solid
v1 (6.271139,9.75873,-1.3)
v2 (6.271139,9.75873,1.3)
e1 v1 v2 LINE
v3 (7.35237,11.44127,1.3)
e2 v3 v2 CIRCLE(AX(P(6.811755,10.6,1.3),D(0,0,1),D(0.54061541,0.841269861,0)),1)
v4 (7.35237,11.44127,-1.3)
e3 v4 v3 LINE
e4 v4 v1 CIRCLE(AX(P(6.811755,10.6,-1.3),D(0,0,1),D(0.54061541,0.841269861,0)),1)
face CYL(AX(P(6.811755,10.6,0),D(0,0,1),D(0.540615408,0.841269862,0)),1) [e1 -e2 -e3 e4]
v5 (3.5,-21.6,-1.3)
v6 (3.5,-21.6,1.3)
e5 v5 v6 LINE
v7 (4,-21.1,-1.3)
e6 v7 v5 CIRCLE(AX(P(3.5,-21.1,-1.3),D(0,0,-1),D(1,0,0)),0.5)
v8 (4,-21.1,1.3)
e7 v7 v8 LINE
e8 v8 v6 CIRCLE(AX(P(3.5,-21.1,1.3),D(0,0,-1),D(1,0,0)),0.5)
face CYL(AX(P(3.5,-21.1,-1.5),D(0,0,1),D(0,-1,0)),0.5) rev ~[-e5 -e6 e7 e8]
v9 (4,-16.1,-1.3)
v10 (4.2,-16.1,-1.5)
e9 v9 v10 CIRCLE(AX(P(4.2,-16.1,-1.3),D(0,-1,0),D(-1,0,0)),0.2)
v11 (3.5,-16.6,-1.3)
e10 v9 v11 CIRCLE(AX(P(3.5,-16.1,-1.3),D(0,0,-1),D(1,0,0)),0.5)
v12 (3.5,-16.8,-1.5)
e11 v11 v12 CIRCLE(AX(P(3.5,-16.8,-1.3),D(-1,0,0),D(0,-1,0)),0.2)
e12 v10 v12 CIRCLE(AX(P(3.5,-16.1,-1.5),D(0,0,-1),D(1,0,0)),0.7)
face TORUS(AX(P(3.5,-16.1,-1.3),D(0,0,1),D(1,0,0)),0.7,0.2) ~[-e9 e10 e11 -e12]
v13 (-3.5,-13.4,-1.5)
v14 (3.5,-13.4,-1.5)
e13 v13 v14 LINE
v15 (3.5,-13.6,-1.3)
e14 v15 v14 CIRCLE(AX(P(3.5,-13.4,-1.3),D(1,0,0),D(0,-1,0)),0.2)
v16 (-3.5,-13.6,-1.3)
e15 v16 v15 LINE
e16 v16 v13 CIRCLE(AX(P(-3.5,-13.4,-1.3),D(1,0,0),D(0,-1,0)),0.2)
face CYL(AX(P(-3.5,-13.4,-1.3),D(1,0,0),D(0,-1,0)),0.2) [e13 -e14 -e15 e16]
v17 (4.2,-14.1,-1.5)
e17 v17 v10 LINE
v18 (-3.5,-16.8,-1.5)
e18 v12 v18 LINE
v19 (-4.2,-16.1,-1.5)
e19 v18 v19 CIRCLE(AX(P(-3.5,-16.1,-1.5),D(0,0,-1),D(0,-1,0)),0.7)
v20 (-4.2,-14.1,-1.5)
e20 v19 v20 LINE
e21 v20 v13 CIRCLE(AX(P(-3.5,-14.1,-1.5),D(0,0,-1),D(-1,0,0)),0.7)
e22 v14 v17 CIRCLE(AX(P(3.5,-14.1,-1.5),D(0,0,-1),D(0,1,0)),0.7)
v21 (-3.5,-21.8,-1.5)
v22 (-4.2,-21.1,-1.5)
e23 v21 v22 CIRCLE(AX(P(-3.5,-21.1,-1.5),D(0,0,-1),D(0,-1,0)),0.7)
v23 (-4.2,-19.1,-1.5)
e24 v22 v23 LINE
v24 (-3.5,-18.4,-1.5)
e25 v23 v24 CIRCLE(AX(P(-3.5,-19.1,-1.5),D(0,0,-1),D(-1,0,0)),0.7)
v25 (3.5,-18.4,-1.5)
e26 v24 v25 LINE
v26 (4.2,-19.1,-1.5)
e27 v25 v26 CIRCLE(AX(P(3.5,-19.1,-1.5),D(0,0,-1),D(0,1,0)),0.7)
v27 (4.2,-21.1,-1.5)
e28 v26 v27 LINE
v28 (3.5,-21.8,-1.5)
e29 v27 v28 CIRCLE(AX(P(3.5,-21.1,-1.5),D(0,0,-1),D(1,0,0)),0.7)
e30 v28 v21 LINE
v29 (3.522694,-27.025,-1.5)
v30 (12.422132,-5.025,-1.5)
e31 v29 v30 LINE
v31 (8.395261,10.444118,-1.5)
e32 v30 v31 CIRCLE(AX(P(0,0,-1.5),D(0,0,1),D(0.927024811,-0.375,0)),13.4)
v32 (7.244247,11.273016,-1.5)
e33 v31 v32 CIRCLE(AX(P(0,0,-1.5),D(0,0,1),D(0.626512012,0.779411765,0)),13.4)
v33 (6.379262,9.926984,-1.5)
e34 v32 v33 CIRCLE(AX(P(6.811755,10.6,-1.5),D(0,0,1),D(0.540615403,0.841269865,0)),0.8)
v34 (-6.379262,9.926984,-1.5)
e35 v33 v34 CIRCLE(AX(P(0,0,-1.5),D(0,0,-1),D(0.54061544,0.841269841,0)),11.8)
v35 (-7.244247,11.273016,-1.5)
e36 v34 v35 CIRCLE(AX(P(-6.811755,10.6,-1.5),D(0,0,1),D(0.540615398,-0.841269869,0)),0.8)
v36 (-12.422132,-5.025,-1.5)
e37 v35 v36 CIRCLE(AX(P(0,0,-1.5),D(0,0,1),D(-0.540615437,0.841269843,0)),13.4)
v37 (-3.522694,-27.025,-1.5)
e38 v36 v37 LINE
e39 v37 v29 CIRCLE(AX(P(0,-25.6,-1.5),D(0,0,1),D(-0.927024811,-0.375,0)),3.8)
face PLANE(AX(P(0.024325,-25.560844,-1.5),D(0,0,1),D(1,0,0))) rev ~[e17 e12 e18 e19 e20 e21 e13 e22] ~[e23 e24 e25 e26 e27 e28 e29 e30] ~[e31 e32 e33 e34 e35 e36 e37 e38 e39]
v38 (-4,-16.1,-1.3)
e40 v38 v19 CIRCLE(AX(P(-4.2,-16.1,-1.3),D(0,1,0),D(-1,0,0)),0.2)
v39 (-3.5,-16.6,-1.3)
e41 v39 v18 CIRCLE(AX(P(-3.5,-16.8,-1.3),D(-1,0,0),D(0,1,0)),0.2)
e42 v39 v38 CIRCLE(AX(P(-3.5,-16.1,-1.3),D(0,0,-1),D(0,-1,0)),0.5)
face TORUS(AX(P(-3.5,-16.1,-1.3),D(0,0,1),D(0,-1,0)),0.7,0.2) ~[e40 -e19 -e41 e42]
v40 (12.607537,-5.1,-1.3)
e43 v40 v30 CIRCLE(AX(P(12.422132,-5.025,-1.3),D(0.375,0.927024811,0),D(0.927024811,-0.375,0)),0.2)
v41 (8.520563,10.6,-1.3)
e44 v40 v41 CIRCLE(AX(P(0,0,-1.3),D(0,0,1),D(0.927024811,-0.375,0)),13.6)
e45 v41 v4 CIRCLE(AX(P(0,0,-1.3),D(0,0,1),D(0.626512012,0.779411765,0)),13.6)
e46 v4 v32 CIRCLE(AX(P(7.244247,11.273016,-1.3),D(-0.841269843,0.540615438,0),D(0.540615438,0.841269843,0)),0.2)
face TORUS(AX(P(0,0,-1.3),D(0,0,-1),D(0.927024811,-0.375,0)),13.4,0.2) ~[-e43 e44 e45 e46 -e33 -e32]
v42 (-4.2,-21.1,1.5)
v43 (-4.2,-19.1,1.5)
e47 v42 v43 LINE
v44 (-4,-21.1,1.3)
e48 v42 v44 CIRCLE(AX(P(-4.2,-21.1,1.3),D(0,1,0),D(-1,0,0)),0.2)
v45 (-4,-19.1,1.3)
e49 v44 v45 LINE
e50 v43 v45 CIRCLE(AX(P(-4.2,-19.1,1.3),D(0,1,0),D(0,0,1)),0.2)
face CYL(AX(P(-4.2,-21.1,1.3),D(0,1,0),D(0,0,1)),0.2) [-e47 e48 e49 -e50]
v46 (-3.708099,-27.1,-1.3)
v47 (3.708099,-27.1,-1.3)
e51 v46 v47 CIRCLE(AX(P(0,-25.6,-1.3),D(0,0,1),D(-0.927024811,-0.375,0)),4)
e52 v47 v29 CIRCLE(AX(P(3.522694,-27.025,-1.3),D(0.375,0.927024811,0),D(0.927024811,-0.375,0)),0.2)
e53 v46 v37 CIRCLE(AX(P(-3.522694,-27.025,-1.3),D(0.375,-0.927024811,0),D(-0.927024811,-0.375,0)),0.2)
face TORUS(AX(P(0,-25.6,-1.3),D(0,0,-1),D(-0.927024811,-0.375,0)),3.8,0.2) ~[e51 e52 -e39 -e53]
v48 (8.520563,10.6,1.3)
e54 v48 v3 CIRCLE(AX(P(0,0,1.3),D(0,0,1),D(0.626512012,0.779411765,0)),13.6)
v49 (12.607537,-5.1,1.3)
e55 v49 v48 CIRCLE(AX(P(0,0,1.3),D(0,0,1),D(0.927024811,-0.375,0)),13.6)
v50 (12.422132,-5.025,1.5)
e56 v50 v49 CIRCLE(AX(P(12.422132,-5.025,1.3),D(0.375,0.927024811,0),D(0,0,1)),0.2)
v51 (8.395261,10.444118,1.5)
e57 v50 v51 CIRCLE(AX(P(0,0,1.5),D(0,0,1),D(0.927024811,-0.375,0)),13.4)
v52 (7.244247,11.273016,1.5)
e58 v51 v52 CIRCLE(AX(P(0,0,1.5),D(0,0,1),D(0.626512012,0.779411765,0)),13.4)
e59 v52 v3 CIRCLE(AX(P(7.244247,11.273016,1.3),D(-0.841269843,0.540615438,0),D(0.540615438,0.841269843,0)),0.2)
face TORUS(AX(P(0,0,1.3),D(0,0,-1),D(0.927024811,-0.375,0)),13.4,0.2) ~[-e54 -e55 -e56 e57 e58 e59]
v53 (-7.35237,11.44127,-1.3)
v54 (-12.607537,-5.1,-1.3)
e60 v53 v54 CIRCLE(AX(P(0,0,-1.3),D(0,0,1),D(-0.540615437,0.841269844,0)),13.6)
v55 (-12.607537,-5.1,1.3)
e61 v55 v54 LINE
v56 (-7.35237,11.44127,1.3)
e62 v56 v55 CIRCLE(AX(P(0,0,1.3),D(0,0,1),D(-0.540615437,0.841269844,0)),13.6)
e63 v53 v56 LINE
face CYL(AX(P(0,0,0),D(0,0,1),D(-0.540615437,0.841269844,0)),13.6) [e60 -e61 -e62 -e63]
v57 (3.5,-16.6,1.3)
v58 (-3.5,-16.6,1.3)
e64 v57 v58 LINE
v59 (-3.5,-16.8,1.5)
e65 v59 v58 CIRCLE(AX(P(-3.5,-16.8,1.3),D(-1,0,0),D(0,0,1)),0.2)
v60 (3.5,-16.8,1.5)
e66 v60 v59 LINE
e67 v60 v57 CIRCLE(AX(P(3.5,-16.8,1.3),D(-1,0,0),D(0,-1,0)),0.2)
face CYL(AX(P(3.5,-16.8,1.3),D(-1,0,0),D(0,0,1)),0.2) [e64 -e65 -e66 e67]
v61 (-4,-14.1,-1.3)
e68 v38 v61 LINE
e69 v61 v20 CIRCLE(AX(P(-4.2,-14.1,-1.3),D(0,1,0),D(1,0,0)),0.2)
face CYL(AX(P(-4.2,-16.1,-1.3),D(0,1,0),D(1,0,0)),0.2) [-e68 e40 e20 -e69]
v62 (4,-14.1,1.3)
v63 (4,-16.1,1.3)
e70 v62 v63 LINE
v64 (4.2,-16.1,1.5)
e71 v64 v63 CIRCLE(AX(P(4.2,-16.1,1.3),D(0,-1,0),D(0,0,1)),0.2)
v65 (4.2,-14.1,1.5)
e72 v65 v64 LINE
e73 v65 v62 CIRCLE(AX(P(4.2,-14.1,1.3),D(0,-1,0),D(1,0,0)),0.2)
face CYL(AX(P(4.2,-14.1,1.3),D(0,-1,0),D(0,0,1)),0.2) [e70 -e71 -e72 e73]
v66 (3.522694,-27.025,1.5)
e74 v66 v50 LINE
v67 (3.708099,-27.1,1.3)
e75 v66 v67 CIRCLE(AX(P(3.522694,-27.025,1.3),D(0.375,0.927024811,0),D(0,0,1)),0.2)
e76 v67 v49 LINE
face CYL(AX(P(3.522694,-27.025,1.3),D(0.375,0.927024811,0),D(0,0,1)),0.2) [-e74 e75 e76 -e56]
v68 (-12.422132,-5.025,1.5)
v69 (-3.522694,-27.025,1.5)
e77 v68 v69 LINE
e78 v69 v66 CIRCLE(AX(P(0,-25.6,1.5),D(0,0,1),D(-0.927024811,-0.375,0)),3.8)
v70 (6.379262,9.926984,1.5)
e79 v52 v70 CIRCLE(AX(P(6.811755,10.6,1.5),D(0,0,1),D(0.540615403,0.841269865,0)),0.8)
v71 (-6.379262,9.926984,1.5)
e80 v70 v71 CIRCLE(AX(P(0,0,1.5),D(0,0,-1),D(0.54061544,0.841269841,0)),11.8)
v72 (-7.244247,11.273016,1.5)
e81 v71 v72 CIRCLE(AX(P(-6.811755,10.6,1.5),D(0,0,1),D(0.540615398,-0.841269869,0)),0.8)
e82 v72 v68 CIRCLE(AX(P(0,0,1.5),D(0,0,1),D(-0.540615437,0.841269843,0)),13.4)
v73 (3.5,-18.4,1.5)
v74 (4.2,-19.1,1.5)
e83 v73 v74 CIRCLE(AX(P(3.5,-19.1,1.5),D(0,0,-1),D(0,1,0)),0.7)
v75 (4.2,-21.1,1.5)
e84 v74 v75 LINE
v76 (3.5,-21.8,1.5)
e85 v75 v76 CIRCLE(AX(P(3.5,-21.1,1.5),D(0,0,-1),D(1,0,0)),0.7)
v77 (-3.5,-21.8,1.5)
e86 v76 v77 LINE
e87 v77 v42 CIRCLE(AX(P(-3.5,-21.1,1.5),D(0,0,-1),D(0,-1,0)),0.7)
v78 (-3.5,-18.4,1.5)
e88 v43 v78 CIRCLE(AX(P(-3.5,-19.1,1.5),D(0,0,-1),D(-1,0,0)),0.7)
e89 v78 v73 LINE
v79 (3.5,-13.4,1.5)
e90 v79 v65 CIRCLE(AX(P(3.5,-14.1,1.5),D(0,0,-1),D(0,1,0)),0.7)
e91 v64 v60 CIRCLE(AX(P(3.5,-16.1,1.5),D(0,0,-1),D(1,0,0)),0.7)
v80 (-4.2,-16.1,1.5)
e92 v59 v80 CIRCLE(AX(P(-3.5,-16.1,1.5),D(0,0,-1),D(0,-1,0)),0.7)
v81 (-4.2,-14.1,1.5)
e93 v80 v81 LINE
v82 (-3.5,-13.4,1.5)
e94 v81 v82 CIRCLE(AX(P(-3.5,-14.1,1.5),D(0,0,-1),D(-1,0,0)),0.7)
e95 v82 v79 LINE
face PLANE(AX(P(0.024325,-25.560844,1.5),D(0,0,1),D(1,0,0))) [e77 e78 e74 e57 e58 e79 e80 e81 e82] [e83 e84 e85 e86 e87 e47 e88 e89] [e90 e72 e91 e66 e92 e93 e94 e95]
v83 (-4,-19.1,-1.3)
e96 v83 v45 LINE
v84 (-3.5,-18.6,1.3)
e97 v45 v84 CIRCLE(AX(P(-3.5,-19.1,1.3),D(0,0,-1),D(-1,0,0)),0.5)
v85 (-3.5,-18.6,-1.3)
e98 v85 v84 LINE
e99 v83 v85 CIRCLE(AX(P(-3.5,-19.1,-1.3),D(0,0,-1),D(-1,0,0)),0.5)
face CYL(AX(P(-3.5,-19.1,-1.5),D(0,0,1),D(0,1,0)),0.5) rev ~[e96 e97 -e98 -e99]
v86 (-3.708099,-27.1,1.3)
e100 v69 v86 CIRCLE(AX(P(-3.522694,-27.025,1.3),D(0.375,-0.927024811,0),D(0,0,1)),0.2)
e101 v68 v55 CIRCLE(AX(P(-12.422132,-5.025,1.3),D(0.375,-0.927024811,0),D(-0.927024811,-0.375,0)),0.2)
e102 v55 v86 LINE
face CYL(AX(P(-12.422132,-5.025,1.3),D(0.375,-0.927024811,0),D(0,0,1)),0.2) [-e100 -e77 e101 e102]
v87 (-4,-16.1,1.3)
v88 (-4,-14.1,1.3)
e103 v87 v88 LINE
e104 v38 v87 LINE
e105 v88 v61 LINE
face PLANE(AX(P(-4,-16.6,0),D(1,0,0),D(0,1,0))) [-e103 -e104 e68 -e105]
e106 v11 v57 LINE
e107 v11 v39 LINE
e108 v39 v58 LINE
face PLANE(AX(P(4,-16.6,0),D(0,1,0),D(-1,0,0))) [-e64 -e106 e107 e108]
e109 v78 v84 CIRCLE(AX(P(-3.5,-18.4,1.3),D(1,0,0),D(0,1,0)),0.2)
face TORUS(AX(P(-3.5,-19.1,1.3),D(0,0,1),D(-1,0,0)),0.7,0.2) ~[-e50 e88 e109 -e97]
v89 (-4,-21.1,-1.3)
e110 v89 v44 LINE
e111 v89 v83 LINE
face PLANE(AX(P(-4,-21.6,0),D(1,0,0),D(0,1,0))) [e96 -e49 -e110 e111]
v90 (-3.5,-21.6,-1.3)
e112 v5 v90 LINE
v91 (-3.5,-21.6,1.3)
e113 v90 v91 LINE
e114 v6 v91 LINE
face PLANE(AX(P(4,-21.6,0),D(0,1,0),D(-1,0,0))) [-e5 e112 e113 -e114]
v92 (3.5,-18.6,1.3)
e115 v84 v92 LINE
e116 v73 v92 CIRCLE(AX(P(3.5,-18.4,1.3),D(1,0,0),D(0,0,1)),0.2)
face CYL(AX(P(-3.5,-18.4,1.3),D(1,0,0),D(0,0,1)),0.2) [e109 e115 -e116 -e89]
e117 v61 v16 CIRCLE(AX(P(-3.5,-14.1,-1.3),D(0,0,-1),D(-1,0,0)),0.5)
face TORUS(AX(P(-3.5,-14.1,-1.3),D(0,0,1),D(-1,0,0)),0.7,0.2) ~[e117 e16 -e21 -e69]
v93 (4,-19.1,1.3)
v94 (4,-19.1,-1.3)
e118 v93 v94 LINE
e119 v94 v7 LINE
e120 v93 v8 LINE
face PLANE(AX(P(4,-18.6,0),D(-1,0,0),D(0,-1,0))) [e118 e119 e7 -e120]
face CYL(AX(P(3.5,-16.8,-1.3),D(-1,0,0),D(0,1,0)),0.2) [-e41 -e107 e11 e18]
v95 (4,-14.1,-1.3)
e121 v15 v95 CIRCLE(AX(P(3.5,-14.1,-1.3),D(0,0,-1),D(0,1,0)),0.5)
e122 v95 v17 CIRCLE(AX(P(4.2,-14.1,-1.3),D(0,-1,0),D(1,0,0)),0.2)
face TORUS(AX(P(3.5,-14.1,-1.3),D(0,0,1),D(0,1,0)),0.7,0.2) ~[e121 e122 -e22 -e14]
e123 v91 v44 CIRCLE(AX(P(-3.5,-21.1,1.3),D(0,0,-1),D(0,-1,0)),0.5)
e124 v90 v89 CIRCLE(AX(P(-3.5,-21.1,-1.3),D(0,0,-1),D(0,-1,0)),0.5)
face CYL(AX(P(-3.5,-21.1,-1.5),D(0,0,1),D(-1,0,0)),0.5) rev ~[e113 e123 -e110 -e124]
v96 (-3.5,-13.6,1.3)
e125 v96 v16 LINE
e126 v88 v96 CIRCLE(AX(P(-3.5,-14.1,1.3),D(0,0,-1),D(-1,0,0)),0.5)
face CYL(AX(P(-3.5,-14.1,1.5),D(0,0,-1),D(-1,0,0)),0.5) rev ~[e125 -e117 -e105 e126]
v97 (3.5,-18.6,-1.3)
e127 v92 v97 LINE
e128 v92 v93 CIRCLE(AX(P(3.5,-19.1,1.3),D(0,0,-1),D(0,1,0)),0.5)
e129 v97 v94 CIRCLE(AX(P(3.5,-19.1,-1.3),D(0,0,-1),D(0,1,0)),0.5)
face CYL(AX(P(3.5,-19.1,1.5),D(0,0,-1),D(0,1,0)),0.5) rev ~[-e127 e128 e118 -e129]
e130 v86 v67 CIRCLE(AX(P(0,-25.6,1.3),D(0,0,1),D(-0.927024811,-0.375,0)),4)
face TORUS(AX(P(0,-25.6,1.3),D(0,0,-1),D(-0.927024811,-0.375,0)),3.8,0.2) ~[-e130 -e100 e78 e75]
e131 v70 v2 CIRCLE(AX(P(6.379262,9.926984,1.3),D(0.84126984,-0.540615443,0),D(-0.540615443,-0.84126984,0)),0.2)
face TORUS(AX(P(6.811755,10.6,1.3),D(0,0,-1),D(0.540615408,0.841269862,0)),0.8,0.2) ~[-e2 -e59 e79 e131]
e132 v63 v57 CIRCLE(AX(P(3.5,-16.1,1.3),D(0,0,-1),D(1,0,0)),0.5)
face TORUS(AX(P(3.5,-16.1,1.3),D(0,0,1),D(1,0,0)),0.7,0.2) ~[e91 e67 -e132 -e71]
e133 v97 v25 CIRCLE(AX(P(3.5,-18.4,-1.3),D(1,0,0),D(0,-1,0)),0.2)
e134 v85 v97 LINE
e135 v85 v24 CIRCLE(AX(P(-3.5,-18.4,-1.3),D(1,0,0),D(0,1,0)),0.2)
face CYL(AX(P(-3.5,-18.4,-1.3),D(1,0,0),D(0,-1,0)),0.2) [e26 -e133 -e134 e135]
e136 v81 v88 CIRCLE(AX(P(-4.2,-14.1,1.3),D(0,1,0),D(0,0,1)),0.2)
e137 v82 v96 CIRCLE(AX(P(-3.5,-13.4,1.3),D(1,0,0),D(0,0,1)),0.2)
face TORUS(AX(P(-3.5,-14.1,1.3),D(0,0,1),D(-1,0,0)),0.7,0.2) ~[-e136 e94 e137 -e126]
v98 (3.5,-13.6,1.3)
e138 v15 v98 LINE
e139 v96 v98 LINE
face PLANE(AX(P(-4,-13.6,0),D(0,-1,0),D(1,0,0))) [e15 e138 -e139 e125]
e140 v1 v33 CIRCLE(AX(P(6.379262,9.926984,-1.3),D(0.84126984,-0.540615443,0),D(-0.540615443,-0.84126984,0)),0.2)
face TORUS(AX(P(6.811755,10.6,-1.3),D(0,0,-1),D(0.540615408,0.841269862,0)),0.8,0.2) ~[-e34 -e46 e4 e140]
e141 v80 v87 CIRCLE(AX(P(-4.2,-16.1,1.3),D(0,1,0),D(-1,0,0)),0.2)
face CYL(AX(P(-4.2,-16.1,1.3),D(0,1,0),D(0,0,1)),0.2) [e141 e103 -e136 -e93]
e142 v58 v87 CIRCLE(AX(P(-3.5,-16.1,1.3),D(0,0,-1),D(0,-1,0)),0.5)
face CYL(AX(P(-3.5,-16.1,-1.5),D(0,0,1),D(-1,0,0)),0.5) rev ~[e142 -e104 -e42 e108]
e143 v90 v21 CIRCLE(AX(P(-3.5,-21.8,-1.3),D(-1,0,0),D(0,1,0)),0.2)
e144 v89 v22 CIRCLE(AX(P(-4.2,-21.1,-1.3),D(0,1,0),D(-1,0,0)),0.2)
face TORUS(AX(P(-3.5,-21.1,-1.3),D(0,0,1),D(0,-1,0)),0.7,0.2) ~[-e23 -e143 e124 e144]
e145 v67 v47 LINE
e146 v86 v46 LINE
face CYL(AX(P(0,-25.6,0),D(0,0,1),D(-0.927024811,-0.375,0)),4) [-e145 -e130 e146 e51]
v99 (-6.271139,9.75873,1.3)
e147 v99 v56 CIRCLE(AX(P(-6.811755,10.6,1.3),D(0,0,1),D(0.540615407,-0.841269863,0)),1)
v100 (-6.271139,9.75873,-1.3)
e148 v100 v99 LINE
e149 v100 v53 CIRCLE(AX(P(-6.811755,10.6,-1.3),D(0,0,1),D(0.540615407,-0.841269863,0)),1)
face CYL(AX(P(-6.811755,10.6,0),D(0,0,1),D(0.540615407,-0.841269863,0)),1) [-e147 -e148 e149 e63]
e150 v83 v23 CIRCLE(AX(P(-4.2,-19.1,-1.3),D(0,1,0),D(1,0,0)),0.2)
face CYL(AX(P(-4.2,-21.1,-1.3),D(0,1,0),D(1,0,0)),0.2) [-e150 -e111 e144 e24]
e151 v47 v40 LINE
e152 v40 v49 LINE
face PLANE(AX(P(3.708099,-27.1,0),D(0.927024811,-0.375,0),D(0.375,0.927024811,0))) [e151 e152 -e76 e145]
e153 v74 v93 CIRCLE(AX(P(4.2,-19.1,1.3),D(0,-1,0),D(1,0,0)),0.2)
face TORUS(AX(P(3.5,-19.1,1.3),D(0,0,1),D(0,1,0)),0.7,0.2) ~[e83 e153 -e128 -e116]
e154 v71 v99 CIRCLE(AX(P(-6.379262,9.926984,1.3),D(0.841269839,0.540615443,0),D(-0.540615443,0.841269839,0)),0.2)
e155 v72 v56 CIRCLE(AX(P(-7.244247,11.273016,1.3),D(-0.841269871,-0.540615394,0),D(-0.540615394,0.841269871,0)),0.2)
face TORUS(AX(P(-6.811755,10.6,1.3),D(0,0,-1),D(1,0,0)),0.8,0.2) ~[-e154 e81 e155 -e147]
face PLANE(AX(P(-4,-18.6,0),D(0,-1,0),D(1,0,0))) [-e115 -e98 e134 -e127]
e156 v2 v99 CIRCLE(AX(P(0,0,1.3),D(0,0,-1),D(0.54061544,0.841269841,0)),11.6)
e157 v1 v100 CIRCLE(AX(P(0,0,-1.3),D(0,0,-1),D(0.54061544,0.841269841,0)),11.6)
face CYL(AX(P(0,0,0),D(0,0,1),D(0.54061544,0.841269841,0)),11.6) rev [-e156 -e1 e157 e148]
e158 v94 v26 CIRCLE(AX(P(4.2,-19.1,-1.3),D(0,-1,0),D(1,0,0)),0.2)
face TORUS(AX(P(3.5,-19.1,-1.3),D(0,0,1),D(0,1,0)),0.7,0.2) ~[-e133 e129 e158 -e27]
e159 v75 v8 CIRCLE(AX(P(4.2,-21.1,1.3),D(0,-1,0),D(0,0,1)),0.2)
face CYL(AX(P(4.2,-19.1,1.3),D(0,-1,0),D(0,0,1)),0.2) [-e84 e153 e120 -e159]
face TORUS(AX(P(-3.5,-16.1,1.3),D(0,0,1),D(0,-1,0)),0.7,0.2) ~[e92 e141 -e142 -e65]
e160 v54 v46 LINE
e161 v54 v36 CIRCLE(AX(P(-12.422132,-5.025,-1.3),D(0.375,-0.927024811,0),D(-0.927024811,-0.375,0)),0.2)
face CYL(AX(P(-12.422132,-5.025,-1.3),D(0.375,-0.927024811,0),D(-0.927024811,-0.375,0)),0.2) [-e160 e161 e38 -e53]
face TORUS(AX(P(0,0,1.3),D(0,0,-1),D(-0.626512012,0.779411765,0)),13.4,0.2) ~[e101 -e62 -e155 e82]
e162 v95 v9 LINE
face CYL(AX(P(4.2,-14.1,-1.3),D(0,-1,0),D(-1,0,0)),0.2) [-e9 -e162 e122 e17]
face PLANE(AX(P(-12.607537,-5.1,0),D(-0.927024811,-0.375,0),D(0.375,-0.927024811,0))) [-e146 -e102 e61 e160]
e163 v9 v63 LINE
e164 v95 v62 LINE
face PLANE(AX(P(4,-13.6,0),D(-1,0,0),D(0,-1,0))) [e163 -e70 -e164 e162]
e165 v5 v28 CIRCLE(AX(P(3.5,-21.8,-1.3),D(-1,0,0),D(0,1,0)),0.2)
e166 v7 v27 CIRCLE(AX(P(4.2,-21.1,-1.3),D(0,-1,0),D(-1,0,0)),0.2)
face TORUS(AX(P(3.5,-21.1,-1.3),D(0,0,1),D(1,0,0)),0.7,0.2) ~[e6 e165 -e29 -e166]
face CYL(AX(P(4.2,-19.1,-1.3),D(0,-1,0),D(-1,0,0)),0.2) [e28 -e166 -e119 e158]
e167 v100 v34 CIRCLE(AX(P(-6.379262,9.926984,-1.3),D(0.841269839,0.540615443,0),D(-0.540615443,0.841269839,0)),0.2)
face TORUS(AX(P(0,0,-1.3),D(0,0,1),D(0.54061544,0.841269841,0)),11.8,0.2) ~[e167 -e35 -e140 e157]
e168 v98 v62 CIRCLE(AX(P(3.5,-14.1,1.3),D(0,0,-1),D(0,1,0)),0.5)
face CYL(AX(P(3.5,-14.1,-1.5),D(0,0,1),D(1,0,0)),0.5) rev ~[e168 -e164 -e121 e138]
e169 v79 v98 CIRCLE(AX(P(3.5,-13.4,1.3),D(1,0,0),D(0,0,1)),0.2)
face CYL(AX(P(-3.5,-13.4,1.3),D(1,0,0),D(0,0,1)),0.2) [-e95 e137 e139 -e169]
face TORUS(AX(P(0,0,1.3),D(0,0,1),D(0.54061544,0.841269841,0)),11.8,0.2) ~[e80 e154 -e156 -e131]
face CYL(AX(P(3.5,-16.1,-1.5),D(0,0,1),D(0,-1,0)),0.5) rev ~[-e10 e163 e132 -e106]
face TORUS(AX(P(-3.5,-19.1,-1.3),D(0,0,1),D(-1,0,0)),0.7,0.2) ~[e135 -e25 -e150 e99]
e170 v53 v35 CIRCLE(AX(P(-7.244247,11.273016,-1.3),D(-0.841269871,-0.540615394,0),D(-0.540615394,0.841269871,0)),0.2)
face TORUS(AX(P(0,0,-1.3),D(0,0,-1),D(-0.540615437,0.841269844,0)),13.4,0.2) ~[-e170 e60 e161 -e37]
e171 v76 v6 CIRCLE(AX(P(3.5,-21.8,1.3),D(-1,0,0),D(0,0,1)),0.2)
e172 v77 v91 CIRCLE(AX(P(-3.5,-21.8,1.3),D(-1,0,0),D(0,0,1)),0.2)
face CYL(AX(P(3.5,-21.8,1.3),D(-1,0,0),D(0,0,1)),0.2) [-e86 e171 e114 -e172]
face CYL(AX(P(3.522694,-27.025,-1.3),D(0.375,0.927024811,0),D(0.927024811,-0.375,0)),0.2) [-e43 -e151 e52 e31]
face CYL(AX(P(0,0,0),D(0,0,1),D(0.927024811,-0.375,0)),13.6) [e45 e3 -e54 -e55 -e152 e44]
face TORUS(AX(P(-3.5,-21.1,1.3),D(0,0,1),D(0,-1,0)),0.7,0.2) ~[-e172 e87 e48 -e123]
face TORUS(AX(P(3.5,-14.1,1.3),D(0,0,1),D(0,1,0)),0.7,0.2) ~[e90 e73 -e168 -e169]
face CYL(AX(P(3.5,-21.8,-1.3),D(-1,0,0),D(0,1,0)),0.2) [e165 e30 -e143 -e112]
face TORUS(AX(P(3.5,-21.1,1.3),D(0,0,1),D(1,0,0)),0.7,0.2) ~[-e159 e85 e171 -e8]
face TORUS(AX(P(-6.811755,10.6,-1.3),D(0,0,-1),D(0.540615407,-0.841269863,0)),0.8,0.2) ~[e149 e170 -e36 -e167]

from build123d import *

# Parameters (mm, degrees)
F1_DEPTH = 1.5
F2_R     = 0.5
F3_R     = 0.2


with BuildPart() as f1:
    # F0 (on Top) → F1 (new body, symmetric)
    with BuildSketch(Plane.XY):
        with BuildLine():
            ThreePointArc((-3.7080992435, -27.1), (0, -29.6), (3.7080992435, -27.1))
            ThreePointArc((3.7080992435, -27.1), (3.92634671, -26.3640690498), (4, -25.6))
            ThreePointArc((4, -25.6), (2.8284271247, -22.7715728753), (0, -21.6))
            ThreePointArc((0, -21.6), (-3.3166247904, -23.3639320225), (-3.7080992435, -27.1))
        make_face()
        with BuildLine():
            Line((7.8117545464, 10.6), (8.5205633617, 10.6))
            ThreePointArc((8.5205633617, 10.6), (7.9476057251, 11.0361027196), (7.3523699548, 11.4412698617))
            ThreePointArc((7.3523699548, 11.4412698617), (7.6894262983, 11.0792622411), (7.8117545464, 10.6))
        make_face()
        with BuildLine():
            ThreePointArc((-7.35236994, 11.4412698712), (-7.947605718, 11.0361027248), (-8.5205633617, 10.6))
            Line((-8.5205633617, 10.6), (-7.8117545464, 10.6))
            ThreePointArc((-7.8117545464, 10.6), (-7.6894262941, 11.0792622489), (-7.35236994, 11.4412698712))
        make_face()
        with BuildLine():
            ThreePointArc((-5.8117545464, 10.6), (-6.3324922975, 11.4776717477), (-7.35236994, 11.4412698712))
            ThreePointArc((-7.35236994, 11.4412698712), (-7.6894262941, 11.0792622489), (-7.8117545464, 10.6))
            Line((-7.8117545464, 10.6), (-5.8117545464, 10.6))
        make_face()
        with BuildLine():
            Line((3.7080992435, -27.1), (12.6075374281, -5.1))
            ThreePointArc((12.6075374281, -5.1), (7.6026311235, -11.2765242872), (0, -13.6))
            ThreePointArc((0, -13.6), (-7.6026311235, -11.2765242872), (-12.6075374281, -5.1))
            Line((-12.6075374281, -5.1), (-3.7080992435, -27.1))
            ThreePointArc((-3.7080992435, -27.1), (-3.3166247904, -23.3639320225), (0, -21.6))
            ThreePointArc((0, -21.6), (2.8284271247, -22.7715728753), (4, -25.6))
            ThreePointArc((4, -25.6), (3.92634671, -26.3640690498), (3.7080992435, -27.1))
        make_face()
        Polygon((4, -21.6), (0, -21.6), (-4, -21.6), (-4, -18.6), (4, -18.6), align=None, mode=Mode.SUBTRACT)
        Polygon((-4, -13.6), (0, -13.6), (4, -13.6), (4, -16.6), (-4, -16.6), align=None, mode=Mode.SUBTRACT)
        with BuildLine():
            Line((-5.8117545464, 10.6), (-7.8117545464, 10.6))
            ThreePointArc((-7.8117545464, 10.6), (-7.2910167883, 9.7223282485), (-6.2711391394, 9.7587301374))
            ThreePointArc((-6.2711391394, 9.7587301374), (-5.9340827948, 10.1207377581), (-5.8117545464, 10.6))
        make_face()
        with BuildLine():
            ThreePointArc((6.2711391036, 9.7587301604), (7.2910167696, 9.7223282383), (7.8117545464, 10.6))
            Line((7.8117545464, 10.6), (5.8117545464, 10.6))
            ThreePointArc((5.8117545464, 10.6), (5.9340827846, 10.1207377768), (6.2711391036, 9.7587301604))
        make_face()
        with BuildLine():
            ThreePointArc((7.8117545464, 10.6), (7.6894262983, 11.0792622411), (7.3523699548, 11.4412698617))
            ThreePointArc((7.3523699548, 11.4412698617), (6.3324923052, 11.477671752), (5.8117545464, 10.6))
            Line((5.8117545464, 10.6), (7.8117545464, 10.6))
        make_face()
        with BuildLine():
            ThreePointArc((0, -13.6), (7.6026311235, -11.2765242872), (12.6075374281, -5.1))
            ThreePointArc((12.6075374281, -5.1), (13.349578814, -2.5978347694), (13.6, 0))
            ThreePointArc((13.6, 0), (12.2645762609, 5.8770884918), (8.5205633617, 10.6))
            Line((8.5205633617, 10.6), (7.8117545464, 10.6))
            ThreePointArc((7.8117545464, 10.6), (7.2910167696, 9.7223282383), (6.2711391036, 9.7587301604))
            ThreePointArc((6.2711391036, 9.7587301604), (10.1809924271, 5.5594418064), (11.6, 0))
            ThreePointArc((11.6, 0), (-5.5594417877, -10.1809924373), (-6.2711391394, 9.7587301374))
            ThreePointArc((-6.2711391394, 9.7587301374), (-7.2910167883, 9.7223282485), (-7.8117545464, 10.6))
            Line((-7.8117545464, 10.6), (-8.5205633617, 10.6))
            ThreePointArc((-8.5205633617, 10.6), (-13.1613700178, 3.4261259835), (-12.6075374281, -5.1))
            ThreePointArc((-12.6075374281, -5.1), (-7.6026311235, -11.2765242872), (0, -13.6))
        make_face()
    extrude(amount=F1_DEPTH, both=True)

    # F2
    f2_edges = [f1.edges().sort_by_distance(p)[0] for p in [
        (-4, -18.6, 0),
        (-4, -13.6, 0),
        (-4, -16.6, 0),
        (-4, -21.6, 0),
        (4, -21.6, 0),
        (4, -16.6, 0),
        (4, -13.6, 0),
        (4, -18.6, 0),
    ]]
    fillet(f2_edges, radius=F2_R)

    # F3
    f3_edges = [f1.edges().sort_by_distance(p)[0] for p in [
        (0, -21.6, 1.5),
        (3.853553, -21.453553, 1.5),
        (-3.853553, -21.453553, 1.5),
        (4, -20.1, 1.5),
        (-4, -20.1, 1.5),
        (3.853553, -18.746447, 1.5),
        (-3.853553, -18.746447, 1.5),
        (0, -18.6, 1.5),
        (8.157818, -16.1, 1.5),
        (12.961592, 4.117903, 1.5),
        (5.970485, 11.140615, 1.5),
        (0, -11.6, 1.5),
        (-5.970485, 11.140615, 1.5),
        (-12.961592, 4.117903, 1.5),
        (-8.157818, -16.1, 1.5),
        (0, -29.6, 1.5),
        (0, -13.6, 1.5),
        (-3.853553, -13.746447, 1.5),
        (3.853553, -13.746447, 1.5),
        (-4, -15.1, 1.5),
        (4, -15.1, 1.5),
        (-3.853553, -16.453553, 1.5),
        (3.853553, -16.453553, 1.5),
        (0, -16.6, 1.5),
        (0, -21.6, -1.5),
        (3.853553, -21.453553, -1.5),
        (-3.853553, -21.453553, -1.5),
        (4, -20.1, -1.5),
        (-4, -20.1, -1.5),
        (3.853553, -18.746447, -1.5),
        (-3.853553, -18.746447, -1.5),
        (0, -18.6, -1.5),
        (8.157818, -16.1, -1.5),
        (12.961592, 4.117903, -1.5),
        (5.970485, 11.140615, -1.5),
        (0, -11.6, -1.5),
        (-5.970485, 11.140615, -1.5),
        (-12.961592, 4.117903, -1.5),
        (-8.157818, -16.1, -1.5),
        (0, -29.6, -1.5),
        (0, -13.6, -1.5),
        (-3.853553, -13.746447, -1.5),
        (3.853553, -13.746447, -1.5),
        (-4, -15.1, -1.5),
        (4, -15.1, -1.5),
        (-3.853553, -16.453553, -1.5),
        (3.853553, -16.453553, -1.5),
        (0, -16.6, -1.5),
    ]]
    fillet(f3_edges, radius=F3_R)


solid = f1.part
